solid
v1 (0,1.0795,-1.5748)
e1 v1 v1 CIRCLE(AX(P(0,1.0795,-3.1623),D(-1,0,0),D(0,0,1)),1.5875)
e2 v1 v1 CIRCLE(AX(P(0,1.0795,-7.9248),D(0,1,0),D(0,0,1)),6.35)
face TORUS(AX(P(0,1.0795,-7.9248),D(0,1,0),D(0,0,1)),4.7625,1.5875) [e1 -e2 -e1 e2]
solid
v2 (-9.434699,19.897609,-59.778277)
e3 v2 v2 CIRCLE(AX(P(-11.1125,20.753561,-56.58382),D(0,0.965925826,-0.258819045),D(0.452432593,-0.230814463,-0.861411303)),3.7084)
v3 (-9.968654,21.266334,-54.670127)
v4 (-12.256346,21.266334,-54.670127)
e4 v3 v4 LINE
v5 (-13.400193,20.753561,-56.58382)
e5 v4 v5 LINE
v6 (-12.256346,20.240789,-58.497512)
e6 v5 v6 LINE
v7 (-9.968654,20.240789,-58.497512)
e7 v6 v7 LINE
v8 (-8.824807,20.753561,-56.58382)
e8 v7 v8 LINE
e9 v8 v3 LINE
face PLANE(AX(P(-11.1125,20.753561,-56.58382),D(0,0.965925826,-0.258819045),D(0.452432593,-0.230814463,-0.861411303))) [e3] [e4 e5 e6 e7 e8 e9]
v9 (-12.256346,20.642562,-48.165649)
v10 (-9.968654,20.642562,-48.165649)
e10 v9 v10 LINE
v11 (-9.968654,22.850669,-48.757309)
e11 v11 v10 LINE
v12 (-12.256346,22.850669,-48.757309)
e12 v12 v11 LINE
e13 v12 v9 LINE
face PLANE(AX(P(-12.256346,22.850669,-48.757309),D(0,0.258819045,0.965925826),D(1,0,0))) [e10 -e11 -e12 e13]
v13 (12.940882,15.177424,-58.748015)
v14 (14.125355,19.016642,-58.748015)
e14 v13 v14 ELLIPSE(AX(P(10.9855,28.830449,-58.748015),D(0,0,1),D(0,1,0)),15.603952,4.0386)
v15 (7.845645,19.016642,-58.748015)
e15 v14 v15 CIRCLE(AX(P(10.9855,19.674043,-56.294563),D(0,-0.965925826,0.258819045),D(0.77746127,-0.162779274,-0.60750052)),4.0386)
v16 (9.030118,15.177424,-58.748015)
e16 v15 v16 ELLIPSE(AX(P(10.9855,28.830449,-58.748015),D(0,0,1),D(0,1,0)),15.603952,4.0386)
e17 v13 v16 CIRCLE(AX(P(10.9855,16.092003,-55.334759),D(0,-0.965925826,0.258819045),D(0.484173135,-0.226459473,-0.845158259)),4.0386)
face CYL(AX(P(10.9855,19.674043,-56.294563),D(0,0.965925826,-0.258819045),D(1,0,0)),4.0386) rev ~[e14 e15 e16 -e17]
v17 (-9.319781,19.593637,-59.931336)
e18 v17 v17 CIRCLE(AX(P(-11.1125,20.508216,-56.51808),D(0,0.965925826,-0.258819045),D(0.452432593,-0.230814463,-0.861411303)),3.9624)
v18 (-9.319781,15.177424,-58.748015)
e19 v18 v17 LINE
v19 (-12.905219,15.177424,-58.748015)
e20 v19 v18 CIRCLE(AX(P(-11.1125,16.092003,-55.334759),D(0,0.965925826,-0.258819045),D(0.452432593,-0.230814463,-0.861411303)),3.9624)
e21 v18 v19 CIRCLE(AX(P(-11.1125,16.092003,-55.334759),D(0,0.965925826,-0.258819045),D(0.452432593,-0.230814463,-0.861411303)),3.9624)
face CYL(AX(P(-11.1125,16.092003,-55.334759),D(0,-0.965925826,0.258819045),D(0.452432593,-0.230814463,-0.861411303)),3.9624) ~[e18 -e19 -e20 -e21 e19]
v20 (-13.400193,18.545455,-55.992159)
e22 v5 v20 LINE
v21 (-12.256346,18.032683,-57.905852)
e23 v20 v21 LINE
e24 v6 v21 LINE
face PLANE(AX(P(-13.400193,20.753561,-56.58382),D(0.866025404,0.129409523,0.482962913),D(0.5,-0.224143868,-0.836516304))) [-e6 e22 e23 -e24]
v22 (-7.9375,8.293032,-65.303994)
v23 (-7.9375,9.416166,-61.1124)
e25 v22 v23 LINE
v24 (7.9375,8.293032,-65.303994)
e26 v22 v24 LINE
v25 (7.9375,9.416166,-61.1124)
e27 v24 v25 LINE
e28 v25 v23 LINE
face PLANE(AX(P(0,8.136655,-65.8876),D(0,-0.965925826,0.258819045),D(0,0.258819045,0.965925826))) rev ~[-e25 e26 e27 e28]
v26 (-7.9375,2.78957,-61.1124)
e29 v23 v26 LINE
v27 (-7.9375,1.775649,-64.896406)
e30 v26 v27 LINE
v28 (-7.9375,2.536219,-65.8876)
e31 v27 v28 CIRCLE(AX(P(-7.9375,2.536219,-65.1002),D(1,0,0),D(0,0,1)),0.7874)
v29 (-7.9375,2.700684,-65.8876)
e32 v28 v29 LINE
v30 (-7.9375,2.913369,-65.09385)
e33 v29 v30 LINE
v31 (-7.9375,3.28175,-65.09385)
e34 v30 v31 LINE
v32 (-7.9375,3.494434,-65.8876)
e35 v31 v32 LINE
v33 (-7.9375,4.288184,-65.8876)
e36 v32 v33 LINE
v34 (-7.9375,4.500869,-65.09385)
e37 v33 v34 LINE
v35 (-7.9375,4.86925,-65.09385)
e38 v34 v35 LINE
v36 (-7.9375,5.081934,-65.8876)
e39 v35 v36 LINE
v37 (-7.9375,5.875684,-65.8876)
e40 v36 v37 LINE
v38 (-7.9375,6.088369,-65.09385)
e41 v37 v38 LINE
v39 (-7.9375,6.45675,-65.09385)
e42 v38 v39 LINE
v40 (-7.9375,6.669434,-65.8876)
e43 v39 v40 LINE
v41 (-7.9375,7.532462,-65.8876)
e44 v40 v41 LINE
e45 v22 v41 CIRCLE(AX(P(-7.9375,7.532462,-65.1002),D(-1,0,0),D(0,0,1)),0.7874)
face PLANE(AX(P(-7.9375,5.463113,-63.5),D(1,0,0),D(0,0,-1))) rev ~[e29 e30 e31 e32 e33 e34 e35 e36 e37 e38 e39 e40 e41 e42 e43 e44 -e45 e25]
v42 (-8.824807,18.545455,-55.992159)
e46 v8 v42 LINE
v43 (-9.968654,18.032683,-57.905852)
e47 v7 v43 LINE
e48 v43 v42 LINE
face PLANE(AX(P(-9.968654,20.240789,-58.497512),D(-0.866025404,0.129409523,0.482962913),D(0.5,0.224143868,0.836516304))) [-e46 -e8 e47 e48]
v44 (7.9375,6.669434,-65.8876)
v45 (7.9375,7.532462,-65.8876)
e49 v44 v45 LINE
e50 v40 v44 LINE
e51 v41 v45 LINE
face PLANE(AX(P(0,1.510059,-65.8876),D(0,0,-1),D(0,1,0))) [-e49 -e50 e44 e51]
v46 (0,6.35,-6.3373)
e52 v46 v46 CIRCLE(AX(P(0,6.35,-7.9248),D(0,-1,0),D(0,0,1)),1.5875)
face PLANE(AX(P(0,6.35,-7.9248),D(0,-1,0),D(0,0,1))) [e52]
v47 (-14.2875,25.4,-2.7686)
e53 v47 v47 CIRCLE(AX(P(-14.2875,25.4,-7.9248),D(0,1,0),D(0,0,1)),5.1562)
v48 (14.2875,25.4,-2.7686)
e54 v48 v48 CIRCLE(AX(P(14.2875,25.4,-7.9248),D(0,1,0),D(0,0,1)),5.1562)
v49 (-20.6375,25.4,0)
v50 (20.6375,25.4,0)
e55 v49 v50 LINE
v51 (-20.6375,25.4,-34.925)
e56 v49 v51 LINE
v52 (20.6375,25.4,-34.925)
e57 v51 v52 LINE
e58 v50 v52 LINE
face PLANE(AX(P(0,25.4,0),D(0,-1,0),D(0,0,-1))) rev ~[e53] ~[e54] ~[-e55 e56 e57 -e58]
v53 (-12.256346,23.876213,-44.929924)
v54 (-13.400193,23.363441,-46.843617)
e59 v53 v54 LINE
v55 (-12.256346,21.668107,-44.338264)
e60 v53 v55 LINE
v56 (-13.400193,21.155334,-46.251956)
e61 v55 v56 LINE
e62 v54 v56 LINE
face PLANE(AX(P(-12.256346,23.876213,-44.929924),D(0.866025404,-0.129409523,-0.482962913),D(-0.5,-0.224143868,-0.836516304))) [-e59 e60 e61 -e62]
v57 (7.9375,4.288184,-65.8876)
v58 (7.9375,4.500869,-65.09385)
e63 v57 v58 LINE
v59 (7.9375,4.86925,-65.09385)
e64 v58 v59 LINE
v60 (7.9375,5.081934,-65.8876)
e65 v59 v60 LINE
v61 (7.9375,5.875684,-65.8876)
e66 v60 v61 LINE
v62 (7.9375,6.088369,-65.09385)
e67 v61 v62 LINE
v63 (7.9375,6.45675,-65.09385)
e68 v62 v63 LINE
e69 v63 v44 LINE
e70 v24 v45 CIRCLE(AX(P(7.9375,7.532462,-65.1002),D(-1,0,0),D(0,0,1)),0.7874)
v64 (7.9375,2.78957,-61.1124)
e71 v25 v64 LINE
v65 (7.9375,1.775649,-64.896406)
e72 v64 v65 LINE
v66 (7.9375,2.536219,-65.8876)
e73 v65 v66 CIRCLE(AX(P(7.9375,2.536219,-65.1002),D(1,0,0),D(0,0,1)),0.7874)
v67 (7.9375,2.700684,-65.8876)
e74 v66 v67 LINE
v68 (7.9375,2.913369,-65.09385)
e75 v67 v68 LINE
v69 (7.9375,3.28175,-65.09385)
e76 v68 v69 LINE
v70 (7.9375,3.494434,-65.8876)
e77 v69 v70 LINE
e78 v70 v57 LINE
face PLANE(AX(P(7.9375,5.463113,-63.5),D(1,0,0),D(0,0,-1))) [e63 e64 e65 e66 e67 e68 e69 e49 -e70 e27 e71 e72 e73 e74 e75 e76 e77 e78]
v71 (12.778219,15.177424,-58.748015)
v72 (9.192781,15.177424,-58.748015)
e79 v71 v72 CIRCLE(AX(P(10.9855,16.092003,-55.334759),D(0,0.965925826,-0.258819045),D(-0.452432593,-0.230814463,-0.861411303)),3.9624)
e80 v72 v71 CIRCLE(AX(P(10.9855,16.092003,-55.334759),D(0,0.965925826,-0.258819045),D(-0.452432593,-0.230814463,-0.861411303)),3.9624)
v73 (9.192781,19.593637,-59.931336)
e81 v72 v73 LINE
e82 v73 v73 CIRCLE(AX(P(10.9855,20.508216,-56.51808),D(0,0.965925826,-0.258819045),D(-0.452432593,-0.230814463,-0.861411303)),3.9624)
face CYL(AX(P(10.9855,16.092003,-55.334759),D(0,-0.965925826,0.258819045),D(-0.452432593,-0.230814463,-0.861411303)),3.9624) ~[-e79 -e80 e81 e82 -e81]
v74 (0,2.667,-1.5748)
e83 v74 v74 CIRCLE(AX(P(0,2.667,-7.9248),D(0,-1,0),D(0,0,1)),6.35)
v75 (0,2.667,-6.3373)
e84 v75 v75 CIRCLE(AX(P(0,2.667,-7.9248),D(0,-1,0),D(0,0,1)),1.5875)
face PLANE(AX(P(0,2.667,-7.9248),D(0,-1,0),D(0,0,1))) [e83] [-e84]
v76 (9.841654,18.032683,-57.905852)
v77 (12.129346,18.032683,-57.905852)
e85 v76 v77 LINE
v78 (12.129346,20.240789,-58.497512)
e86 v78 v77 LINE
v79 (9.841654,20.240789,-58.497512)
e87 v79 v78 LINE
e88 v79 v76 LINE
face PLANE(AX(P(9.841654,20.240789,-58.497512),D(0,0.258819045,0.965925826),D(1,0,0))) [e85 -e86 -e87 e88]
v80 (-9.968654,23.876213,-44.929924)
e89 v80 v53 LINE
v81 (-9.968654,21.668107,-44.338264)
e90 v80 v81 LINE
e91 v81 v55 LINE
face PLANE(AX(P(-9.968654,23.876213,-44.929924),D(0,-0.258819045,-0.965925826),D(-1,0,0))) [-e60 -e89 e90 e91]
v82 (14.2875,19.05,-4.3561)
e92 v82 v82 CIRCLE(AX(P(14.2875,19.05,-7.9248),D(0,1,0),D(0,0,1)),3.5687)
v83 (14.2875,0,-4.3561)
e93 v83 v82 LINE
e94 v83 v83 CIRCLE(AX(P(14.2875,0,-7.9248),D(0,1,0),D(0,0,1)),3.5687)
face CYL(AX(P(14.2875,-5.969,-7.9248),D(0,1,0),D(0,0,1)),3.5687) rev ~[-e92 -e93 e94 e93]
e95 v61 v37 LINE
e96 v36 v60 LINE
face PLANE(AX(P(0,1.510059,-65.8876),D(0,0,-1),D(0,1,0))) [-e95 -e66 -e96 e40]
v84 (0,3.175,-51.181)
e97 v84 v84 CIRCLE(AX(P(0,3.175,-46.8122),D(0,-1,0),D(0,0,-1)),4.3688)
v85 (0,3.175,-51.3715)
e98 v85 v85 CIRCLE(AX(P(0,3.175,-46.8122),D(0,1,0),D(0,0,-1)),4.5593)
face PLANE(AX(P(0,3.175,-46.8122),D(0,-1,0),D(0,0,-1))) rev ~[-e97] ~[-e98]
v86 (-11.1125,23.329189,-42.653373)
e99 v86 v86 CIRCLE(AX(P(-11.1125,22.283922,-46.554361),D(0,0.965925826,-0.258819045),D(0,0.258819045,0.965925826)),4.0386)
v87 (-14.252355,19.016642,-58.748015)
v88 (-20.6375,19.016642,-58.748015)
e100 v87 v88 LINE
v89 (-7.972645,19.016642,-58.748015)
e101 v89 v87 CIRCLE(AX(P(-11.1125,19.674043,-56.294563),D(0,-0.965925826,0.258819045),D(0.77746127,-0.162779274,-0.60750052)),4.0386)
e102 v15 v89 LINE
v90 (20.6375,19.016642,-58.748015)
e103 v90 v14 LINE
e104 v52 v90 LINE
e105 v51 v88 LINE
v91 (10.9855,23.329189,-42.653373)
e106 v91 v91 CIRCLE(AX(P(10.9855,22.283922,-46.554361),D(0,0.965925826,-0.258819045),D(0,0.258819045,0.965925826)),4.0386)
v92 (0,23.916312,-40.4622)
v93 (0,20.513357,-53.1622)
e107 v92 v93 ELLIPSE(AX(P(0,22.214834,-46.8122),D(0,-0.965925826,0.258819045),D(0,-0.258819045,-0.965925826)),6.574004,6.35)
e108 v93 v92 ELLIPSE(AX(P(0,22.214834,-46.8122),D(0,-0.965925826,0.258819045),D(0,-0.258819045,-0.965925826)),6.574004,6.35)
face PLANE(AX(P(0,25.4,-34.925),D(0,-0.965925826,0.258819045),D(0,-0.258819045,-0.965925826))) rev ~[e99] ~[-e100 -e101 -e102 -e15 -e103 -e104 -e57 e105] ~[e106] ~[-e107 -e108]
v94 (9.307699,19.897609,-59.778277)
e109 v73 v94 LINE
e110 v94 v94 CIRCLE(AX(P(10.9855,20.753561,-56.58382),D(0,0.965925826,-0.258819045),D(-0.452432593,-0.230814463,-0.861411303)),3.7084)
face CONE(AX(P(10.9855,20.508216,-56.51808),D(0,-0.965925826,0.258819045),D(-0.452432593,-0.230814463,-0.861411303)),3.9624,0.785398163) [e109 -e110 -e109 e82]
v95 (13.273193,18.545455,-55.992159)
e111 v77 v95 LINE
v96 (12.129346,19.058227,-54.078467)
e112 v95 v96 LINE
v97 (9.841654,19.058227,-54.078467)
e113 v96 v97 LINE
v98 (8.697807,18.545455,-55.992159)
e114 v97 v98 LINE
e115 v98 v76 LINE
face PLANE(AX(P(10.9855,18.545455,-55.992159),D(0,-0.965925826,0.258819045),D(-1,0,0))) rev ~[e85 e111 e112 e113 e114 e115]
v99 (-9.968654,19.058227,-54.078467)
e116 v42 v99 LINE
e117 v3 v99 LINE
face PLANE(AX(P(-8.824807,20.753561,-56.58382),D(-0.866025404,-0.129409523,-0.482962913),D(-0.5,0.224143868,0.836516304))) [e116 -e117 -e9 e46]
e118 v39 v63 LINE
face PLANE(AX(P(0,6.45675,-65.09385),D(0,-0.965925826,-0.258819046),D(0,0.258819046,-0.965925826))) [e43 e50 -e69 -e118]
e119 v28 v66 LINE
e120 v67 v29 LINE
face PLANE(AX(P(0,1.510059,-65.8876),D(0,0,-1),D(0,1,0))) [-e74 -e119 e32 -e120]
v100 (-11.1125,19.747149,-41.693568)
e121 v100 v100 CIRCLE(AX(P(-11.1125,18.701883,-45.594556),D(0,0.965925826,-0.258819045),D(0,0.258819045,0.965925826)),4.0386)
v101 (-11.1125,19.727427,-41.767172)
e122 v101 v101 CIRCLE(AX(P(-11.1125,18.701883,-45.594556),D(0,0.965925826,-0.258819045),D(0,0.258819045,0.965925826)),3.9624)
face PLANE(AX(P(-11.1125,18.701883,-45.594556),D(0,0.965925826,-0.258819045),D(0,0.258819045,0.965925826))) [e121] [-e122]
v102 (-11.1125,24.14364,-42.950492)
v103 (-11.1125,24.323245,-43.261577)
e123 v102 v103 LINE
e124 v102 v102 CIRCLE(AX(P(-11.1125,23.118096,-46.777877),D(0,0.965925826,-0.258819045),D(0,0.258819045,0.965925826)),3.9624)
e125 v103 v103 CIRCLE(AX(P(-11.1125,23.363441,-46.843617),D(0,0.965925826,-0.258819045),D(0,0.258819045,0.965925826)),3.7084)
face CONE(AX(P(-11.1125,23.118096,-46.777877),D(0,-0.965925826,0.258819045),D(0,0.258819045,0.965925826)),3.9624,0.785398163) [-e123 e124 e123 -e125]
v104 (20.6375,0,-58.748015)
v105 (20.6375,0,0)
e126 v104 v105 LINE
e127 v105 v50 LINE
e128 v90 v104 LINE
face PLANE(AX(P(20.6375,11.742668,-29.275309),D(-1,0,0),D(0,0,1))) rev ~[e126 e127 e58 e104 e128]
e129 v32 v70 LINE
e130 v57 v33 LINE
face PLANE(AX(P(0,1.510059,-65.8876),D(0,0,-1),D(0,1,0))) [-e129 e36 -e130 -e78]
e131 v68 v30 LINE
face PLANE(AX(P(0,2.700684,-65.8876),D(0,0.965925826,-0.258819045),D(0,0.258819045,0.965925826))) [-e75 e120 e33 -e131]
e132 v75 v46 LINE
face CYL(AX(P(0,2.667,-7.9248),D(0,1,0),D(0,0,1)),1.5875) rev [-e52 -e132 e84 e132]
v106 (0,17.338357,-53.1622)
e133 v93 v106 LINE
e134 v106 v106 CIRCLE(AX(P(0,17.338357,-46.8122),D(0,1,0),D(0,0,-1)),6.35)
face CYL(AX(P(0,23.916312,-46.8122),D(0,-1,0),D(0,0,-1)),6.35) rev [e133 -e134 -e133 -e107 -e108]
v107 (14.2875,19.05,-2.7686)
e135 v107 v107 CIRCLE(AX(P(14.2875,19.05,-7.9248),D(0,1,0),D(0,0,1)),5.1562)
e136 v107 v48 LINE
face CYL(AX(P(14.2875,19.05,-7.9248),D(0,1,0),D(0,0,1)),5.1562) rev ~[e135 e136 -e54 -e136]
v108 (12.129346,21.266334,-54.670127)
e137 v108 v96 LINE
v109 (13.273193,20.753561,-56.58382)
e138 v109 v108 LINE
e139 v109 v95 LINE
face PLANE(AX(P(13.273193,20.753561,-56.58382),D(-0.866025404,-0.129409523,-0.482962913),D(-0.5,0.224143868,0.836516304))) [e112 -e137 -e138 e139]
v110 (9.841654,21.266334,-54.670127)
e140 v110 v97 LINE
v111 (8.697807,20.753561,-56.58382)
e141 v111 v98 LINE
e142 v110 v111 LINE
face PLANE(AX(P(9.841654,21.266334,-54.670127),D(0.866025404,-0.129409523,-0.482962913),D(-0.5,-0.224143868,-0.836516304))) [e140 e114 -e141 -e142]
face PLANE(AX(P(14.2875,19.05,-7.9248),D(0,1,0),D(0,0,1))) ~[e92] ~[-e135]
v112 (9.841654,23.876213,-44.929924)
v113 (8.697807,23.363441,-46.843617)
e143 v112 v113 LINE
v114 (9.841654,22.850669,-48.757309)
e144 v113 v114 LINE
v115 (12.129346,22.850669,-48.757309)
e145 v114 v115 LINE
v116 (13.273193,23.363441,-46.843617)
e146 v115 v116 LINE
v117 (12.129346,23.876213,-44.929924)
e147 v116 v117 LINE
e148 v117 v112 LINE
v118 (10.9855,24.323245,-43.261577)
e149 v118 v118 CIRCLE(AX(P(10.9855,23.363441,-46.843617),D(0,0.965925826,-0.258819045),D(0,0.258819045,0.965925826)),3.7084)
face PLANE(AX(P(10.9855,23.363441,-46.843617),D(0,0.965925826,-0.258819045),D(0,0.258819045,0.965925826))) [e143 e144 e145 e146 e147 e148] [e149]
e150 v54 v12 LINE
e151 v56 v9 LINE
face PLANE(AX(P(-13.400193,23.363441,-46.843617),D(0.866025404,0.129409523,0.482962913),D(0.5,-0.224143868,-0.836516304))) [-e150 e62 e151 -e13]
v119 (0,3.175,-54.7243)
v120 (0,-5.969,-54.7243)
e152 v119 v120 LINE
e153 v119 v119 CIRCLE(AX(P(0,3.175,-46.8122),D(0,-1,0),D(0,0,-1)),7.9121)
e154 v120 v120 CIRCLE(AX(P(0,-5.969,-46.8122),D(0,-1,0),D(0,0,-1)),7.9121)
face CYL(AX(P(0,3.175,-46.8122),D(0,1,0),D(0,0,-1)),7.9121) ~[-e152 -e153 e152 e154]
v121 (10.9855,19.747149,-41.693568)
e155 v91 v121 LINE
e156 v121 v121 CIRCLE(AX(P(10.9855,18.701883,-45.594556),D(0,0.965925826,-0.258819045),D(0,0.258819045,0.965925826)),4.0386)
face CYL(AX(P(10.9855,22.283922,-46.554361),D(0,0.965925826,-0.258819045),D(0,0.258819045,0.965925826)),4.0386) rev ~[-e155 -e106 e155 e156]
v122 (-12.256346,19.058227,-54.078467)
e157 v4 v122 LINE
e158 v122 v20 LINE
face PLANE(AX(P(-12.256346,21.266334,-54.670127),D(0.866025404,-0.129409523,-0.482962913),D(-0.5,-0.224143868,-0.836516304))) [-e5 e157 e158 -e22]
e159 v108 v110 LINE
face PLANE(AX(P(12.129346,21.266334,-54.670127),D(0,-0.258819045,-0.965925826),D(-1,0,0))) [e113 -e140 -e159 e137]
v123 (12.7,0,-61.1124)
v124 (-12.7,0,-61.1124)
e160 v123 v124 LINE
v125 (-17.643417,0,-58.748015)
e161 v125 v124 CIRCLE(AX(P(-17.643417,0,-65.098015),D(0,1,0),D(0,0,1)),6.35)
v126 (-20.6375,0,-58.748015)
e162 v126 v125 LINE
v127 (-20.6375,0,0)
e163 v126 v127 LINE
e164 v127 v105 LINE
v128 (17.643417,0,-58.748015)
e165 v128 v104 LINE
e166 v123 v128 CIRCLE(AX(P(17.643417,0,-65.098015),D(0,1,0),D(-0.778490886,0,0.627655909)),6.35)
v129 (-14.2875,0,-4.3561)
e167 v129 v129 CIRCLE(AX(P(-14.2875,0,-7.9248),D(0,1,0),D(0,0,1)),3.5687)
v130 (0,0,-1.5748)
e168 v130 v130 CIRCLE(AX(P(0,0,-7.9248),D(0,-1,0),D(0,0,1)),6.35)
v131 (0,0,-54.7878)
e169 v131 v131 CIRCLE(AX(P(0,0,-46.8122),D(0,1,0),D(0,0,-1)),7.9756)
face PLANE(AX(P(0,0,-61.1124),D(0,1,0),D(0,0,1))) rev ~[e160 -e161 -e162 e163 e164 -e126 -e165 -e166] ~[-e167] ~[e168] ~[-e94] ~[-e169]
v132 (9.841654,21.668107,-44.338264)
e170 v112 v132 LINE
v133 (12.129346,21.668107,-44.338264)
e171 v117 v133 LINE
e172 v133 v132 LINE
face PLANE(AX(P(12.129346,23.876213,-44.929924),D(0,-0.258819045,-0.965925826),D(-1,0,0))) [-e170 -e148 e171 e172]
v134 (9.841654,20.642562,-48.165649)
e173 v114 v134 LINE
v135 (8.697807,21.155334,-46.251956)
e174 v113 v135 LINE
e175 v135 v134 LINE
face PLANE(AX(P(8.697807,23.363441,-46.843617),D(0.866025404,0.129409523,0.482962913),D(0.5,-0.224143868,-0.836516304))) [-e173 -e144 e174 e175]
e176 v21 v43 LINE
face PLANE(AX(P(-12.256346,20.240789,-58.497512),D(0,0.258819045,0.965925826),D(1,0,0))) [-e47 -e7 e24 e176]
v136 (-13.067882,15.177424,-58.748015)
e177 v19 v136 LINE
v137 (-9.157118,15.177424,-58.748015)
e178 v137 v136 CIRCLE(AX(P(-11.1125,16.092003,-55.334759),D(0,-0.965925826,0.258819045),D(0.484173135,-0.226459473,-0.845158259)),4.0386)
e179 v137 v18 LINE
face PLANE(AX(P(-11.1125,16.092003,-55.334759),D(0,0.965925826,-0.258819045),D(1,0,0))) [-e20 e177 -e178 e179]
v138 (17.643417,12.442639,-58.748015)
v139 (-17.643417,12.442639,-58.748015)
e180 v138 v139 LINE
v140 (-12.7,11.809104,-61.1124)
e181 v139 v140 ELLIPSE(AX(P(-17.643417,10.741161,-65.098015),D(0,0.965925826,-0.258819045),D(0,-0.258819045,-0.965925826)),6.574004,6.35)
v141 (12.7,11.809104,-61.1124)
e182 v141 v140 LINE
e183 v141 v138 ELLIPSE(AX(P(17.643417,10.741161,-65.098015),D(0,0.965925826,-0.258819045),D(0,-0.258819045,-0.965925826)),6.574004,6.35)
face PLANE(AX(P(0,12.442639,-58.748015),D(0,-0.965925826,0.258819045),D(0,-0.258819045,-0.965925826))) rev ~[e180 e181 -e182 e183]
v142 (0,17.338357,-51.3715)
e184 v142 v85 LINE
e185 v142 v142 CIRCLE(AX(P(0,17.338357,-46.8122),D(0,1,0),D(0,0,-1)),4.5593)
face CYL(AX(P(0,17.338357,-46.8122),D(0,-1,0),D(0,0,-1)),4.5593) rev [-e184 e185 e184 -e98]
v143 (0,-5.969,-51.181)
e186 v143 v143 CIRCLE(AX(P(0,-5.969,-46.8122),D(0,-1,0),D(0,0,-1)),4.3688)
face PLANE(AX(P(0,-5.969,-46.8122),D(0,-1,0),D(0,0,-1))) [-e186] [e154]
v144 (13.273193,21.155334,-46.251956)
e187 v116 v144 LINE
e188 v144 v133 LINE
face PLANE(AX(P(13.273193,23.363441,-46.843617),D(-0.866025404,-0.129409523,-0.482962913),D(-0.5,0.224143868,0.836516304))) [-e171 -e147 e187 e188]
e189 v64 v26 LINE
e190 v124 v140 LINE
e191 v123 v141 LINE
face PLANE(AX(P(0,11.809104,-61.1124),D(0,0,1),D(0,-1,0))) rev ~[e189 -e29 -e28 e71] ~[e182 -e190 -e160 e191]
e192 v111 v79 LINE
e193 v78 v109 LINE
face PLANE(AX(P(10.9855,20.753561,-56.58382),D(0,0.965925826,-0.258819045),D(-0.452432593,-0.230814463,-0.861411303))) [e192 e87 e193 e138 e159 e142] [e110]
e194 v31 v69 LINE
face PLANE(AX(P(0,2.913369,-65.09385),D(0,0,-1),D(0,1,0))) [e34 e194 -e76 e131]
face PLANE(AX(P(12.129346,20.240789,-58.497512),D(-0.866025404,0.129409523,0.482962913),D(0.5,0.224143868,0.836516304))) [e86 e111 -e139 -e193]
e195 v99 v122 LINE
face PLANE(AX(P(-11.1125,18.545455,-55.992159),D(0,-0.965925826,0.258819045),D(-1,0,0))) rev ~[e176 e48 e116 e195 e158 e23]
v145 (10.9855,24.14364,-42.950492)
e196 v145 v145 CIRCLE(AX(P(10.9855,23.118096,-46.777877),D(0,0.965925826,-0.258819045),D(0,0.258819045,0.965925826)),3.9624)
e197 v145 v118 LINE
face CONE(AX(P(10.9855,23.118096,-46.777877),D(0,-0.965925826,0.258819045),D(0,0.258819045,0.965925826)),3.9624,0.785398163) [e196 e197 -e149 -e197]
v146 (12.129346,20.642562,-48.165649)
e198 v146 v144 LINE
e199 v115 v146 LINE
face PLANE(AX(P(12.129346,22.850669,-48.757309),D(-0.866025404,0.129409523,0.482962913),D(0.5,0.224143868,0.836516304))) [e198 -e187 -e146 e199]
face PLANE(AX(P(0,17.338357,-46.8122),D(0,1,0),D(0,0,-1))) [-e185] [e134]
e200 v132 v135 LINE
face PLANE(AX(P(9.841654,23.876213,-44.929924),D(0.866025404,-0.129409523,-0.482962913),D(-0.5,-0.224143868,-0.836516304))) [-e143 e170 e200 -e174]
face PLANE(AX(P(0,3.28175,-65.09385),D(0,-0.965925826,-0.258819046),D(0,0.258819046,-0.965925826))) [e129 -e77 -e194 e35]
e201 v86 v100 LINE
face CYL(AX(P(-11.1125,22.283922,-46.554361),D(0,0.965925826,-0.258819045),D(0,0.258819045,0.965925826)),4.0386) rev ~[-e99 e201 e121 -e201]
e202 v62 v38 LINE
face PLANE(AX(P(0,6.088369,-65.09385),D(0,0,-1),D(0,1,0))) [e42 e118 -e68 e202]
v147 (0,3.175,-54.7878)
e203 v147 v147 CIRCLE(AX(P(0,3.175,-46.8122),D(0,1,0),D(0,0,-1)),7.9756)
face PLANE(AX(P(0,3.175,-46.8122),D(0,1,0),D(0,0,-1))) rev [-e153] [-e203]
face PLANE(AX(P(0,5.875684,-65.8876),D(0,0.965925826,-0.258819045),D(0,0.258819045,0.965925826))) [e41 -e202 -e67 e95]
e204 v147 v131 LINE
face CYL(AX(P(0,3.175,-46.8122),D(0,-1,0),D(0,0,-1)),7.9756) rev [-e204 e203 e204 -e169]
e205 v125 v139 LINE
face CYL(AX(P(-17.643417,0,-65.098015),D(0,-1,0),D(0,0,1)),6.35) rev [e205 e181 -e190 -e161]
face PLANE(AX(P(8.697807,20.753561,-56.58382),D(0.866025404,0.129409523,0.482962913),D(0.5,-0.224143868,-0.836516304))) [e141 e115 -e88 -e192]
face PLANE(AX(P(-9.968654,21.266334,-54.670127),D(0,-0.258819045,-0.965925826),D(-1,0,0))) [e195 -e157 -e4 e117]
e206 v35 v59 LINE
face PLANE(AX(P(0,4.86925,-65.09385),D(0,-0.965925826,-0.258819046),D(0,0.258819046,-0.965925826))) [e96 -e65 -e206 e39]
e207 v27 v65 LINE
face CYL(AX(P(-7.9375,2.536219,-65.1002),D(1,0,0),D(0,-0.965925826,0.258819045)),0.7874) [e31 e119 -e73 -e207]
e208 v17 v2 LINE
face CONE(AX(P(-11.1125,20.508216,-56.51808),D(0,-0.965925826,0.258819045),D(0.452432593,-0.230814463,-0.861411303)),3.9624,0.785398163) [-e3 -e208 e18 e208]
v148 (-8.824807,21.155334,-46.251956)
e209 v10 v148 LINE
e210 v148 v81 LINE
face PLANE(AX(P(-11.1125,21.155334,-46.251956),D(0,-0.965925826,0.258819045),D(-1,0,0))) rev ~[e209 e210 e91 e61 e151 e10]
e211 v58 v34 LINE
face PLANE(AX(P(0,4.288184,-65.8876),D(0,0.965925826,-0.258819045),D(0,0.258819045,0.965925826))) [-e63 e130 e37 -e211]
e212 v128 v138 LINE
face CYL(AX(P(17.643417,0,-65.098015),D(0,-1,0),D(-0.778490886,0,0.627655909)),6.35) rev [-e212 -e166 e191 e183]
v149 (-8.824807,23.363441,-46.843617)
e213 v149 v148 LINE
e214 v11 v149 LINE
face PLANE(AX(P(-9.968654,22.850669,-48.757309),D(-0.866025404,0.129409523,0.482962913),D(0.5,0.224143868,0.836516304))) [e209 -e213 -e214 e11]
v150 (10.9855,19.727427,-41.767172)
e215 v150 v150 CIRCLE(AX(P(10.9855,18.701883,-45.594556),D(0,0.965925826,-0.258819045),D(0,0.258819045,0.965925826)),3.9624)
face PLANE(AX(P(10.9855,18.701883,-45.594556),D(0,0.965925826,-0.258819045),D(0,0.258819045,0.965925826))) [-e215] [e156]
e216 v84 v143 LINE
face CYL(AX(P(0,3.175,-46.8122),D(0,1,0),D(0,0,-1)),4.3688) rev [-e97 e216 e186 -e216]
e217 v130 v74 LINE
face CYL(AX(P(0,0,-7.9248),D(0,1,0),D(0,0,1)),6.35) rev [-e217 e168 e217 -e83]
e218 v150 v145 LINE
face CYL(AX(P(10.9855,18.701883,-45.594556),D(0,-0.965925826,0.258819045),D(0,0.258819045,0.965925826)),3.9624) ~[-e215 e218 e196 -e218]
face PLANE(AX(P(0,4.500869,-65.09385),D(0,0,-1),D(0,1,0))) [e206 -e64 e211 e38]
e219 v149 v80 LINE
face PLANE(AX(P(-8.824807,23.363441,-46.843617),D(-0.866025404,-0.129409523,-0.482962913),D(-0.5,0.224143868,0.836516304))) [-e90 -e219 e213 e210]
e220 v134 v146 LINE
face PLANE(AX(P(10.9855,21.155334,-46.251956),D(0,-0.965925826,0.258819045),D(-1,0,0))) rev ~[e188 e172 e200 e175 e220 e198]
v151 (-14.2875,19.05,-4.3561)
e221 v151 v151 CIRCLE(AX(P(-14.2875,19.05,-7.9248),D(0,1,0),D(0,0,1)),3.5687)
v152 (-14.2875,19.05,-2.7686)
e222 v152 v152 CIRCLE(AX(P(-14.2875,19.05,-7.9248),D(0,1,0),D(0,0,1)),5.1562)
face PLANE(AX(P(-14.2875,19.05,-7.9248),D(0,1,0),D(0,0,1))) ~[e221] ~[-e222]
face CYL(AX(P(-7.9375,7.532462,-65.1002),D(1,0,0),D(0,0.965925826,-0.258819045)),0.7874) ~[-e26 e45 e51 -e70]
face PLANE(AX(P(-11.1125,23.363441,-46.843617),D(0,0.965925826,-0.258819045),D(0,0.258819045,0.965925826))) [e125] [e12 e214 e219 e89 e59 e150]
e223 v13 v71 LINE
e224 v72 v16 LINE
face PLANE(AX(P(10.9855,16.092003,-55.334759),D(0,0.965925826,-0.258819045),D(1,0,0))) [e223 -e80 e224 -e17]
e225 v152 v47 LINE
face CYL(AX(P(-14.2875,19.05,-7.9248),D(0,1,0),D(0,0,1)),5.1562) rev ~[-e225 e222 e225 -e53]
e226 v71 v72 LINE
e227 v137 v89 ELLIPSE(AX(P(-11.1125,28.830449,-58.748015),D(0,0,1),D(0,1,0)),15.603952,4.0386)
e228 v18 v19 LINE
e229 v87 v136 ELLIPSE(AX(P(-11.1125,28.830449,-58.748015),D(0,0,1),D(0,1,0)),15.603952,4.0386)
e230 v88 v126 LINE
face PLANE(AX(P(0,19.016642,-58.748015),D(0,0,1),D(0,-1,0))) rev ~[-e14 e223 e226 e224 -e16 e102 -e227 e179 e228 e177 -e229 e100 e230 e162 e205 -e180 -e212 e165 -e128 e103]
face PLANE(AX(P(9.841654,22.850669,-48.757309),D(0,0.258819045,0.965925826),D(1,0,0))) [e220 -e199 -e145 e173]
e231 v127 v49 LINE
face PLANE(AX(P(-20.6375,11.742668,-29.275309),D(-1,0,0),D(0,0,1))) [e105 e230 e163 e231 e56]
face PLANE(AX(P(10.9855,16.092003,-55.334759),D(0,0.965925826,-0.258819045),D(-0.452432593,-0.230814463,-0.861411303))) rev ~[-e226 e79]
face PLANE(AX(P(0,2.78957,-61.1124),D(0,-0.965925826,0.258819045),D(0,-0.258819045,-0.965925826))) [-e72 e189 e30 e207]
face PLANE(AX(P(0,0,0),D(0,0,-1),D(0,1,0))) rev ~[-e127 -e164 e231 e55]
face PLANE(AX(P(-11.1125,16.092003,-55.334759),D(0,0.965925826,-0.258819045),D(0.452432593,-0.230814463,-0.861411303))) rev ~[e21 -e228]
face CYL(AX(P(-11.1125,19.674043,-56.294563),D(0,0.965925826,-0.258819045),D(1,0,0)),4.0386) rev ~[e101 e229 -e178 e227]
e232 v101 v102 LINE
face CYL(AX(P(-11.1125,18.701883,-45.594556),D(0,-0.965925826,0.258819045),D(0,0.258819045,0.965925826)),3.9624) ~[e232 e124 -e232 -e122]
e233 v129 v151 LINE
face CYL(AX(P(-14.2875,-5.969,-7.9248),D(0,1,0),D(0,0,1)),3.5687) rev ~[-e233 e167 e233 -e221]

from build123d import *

# Parameters (mm, degrees)
EXTRUDE1_DEPTH      = 20.6375
EXTRUDE1_DEPTH_BACK = 20.6375
CUT_EXTRUDE1_REACH  = 27.4
SKETCH4_R           = 7.9121
SKETCH4_R_2         = 4.3688
EXTRUDE2_DEPTH      = 9.144
EXTRUDE3_DEPTH      = 7.9375
EXTRUDE3_DEPTH_BACK = 7.9375
CUT_EXTRUDE2_DEPTH  = 24.765
LPATTERN2_COUNT     = 3
LPATTERN2_PITCH     = 1.5875
FILLET1_R           = 0.7874
SKETCH8_R           = 1.5875
HOLE1_AT_2_COUNT    = 2
HOLE1_AT_2_PITCH    = 28.575
SKETCH11_R          = 4.0386
CUT_EXTRUDE3_DEPTH  = 3.7084
SKETCH12_R          = 3.9624
BOSS_EXTRUDE1_DEPTH = 4.826
CUT_EXTRUDE4_DEPTH  = 2.286
CHAMFER1_SIZE       = 0.254


with BuildPart() as part:
    # Sketch1 → Extrude1 (new body, two sides)
    with BuildSketch(Plane(origin=(0, 0, 0), x_dir=(0, 0, -1), z_dir=(1, 0, 0))) as extrude1_sk:
        Polygon((34.925, 25.4), (58.748015024, 19.016642363), (58.748015024, 12.442638617), (61.1124, 11.809103573), (61.1124, 0), (0, 0), (0, 25.4), align=None)
    extrude(amount=EXTRUDE1_DEPTH)
    extrude(extrude1_sk.sketch, amount=-EXTRUDE1_DEPTH_BACK)

    # Cut-Extrude1: up to this plane
    cut_extrude1_end = Plane(origin=(-20.6375, 12.442638617, -58.748015024), z_dir=(0, 0.965925826, -0.258819045))
    # Sketch2 → Cut-Extrude1 (cut, up to the surface)
    with BuildSketch(Plane.XZ, mode=Mode.PRIVATE) as cut_extrude1_sk1:
        with BuildLine():
            Line((20.6375, -61.1124), (12.7, -61.1124))
            ThreePointArc((12.7, -61.1124), (14.903540797, -59.369526768), (17.643417126, -58.748015024))
            Line((17.643417126, -58.748015024), (20.6375, -58.748015024))
            Line((20.6375, -58.748015024), (20.6375, -61.1124))
        make_face()
    cut_extrude1_tool1 = split(extrude(cut_extrude1_sk1.sketch, amount=-CUT_EXTRUDE1_REACH, mode=Mode.PRIVATE), bisect_by=cut_extrude1_end, keep=Keep.BOTH, mode=Mode.PRIVATE)
    add(cut_extrude1_tool1.solids().sort_by_distance((17.318219, 0, -60.047597))[0], mode=Mode.SUBTRACT)
    # Sketch2 → Cut-Extrude1 (cut, up to the surface)
    with BuildSketch(Plane.XZ, mode=Mode.PRIVATE) as cut_extrude1_sk2:
        with BuildLine():
            Line((-20.6375, -58.748015024), (-17.643417126, -58.748015024))
            ThreePointArc((-17.643417126, -58.748015024), (-14.903540797, -59.369526768), (-12.7, -61.1124))
            Line((-12.7, -61.1124), (-20.6375, -61.1124))
            Line((-20.6375, -61.1124), (-20.6375, -58.748015024))
        make_face()
    cut_extrude1_tool2 = split(extrude(cut_extrude1_sk2.sketch, amount=-CUT_EXTRUDE1_REACH, mode=Mode.PRIVATE), bisect_by=cut_extrude1_end, keep=Keep.BOTH, mode=Mode.PRIVATE)
    add(cut_extrude1_tool2.solids().sort_by_distance((-17.318219, 0, -60.047597))[0], mode=Mode.SUBTRACT)

    # Sketch3 → Cut-Revolve1 (revolve, cut)
    with BuildSketch(Plane(origin=(0, 0, 0), x_dir=(0, 0, -1), z_dir=(1, 0, 0)), mode=Mode.PRIVATE) as cut_revolve1_sk:
        Polygon((40.4622, 23.916311732), (40.4622, 17.338356988), (42.2529, 17.338356988), (42.2529, 3.175), (38.8366, 3.175), (38.8366, 0), (46.8122, 0), (46.8122, 23.916311732), align=None)
    revolve(cut_revolve1_sk.sketch.rotate(Axis((0, -4.910727806, -46.8122), (0, 1, 0)), 180), axis=Axis((0, -4.910727806, -46.8122), (0, 1, 0)), mode=Mode.SUBTRACT)  # turned: the seam where the file's is

    # Sketch4 → Extrude2 (add)
    with BuildSketch(Plane.XZ.offset(-3.175)):
        with Locations(Location((0, -46.8122, 0), (0, 0, 270))):  # turned: the seam where the file's is
            Circle(SKETCH4_R)
        with Locations(Location((0, -46.8122, 0), (0, 0, 270))):  # turned: the seam where the file's is
            Circle(SKETCH4_R_2, mode=Mode.SUBTRACT)
    extrude(amount=EXTRUDE2_DEPTH)

    # S2D0005 → Cut-Revolve2 (revolve, cut)
    with BuildSketch(Plane(origin=(0, 0, -7.9248), x_dir=(-1, 0, 0), z_dir=(0, 0, 1)), mode=Mode.PRIVATE) as cut_revolve2_sk:
        Polygon((0, 0), (6.35, 0), (6.35, -2.667), (1.5875, -2.667), (1.5875, -6.35), (0, -6.35), align=None)
    revolve(cut_revolve2_sk.sketch.rotate(Axis((0, 10.867513557, -7.9248), (0, -1, 0)), 270), axis=Axis((0, 10.867513557, -7.9248), (0, -1, 0)), mode=Mode.SUBTRACT)  # turned: the seam where the file's is

    # Sketch6 → Extrude3 (add, two sides)
    with BuildSketch(Plane(origin=(0, 0, 0), x_dir=(0, 0, -1), z_dir=(1, 0, 0))) as extrude3_sk:
        Polygon((61.1124, 2.789570434), (65.8876, 1.51005945), (65.8876, 8.136655225), (61.1124, 9.416166209), align=None)
    extrude(amount=EXTRUDE3_DEPTH)
    extrude(extrude3_sk.sketch, amount=-EXTRUDE3_DEPTH_BACK)

    # Sketch7 → Cut-Extrude2 (cut, symmetric)
    with BuildSketch(Plane(origin=(0, 0, 0), x_dir=(0, 0, -1), z_dir=(1, 0, 0))):
        Polygon((65.8876, 3.49443445), (65.8876, 2.70068445), (65.09385, 2.913369121), (65.09385, 3.281749778), align=None)
    cut_extrude2 = extrude(amount=CUT_EXTRUDE2_DEPTH, both=True, mode=Mode.SUBTRACT)

    # LPattern2: Cut-Extrude2 ×3
    with Locations(*[(0, i * LPATTERN2_PITCH, 0) for i in range(1, LPATTERN2_COUNT)]):
        add(cut_extrude2, mode=Mode.SUBTRACT)

    # Fillet1
    fillet1_edges = [part.edges().sort_by_distance(p)[0] for p in [
        (0, 8.136655225, -65.8876),
        (0, 1.51005945, -65.8876),
    ]]
    fillet(fillet1_edges, radius=FILLET1_R)

    # Sketch9 → Hole1 (revolve, cut)
    with BuildSketch(Plane(origin=(-14.2875, 25.4, -7.9248), x_dir=(0, 0, 1), z_dir=(1, 0, 0))):
        Polygon((0, 0), (0, 31.369), (3.5687, 31.369), (3.5687, 6.35), (5.1562, 6.35), (5.1562, 0), align=None)
    hole1 = revolve(axis=Axis((-14.2875, -84.6, -7.9248), (0, 1, 0)), mode=Mode.SUBTRACT)

    # Hole1 at 2: Hole1 ×2
    with Locations(*[(i * HOLE1_AT_2_PITCH, 0, 0) for i in range(1, HOLE1_AT_2_COUNT)]):
        add(hole1, mode=Mode.SUBTRACT)

    # Sketch11 → Cut-Extrude3 (cut)
    with BuildSketch(Plane(origin=(0, 32.429772628, -8.689531386), x_dir=(1, 0, 0), z_dir=(0, 0.965925826, -0.258819045))):
        with Locations((-11.1125, 49.284355738)):
            Circle(SKETCH11_R)
        with Locations(Location((-11.1125, 39.200555738, 0), (0, 0, 270))):  # turned: the seam where the file's is
            Circle(SKETCH11_R)
        with Locations((10.9855, 49.284355738)):
            Circle(SKETCH11_R)
        with Locations(Location((10.9855, 39.200555738, 0), (0, 0, 270))):  # turned: the seam where the file's is
            Circle(SKETCH11_R)
    extrude(amount=-CUT_EXTRUDE3_DEPTH, mode=Mode.SUBTRACT)

    # Sketch12 → Boss-Extrude1 (add)
    with BuildSketch(Plane(origin=(0, 28.847733294, -7.72972684), x_dir=(1, 0, 0), z_dir=(0, 0.965925826, -0.258819045))):
        with Locations(Location((-11.1125, 49.284355738, 0), (0, 0, 63.100135956))):  # turned: the seam where the file's is
            Circle(SKETCH12_R)
        with Locations(Location((-11.1125, 39.200555738, 0), (0, 0, 270))):  # turned: the seam where the file's is
            Circle(SKETCH12_R)
        with Locations(Location((10.9855, 49.284355738, 0), (0, 0, 116.899864044))):  # turned: the seam where the file's is
            Circle(SKETCH12_R)
        with Locations(Location((10.9855, 39.200555738, 0), (0, 0, 270))):  # turned: the seam where the file's is
            Circle(SKETCH12_R)
    extrude(amount=BOSS_EXTRUDE1_DEPTH)

    # Sketch13 → Cut-Extrude4 (cut)
    with BuildSketch(Plane(origin=(0, 33.509291332, -8.978787551), x_dir=(1, 0, 0), z_dir=(0, 0.965925826, -0.258819045))):
        Polygon((-12.256346353, 51.265555738), (-9.968653647, 51.265555738), (-8.824807293, 49.284355738), (-9.968653647, 47.303155738), (-12.256346353, 47.303155738), (-13.400192707, 49.284355738), align=None)
        Polygon((-12.256346353, 41.181755738), (-9.968653647, 41.181755738), (-8.824807293, 39.200555738), (-9.968653647, 37.219355738), (-12.256346353, 37.219355738), (-13.400192707, 39.200555738), align=None)
        Polygon((9.841653647, 51.265555738), (12.129346353, 51.265555738), (13.273192707, 49.284355738), (12.129346353, 47.303155738), (9.841653647, 47.303155738), (8.697807293, 49.284355738), align=None)
        Polygon((9.841653647, 41.181755738), (12.129346353, 41.181755738), (13.273192707, 39.200555738), (12.129346353, 37.219355738), (9.841653647, 37.219355738), (8.697807293, 39.200555738), align=None)
    extrude(amount=-CUT_EXTRUDE4_DEPTH, mode=Mode.SUBTRACT)

    # Chamfer1
    chamfer1_edges = [part.edges().sort_by_distance(p)[0] for p in [
        (-12.905218907, 21.668140669, -53.170563444),
        (-11.1125, 22.337896344, -50.671001237),
        (12.778218907, 21.668140669, -53.170563444),
        (10.9855, 22.337896344, -50.671001237),
    ]]
    chamfer(chamfer1_edges, length=CHAMFER1_SIZE)


with BuildPart() as body_2:
    # Sketch8 → Revolve1 (revolve)
    with BuildSketch(Plane(origin=(0, 0, 0), x_dir=(0, 0, -1), z_dir=(1, 0, 0)), mode=Mode.PRIVATE) as revolve1_sk:
        with Locations((12.6873, 1.0795)):
            Circle(SKETCH8_R)
    revolve(revolve1_sk.sketch.rotate(Axis((0, -0.66675, -7.9248), (0, 1, 0)), 180), axis=Axis((0, -0.66675, -7.9248), (0, 1, 0)))  # turned: the seam where the file's is


solid = Compound([part.part, body_2.part])
